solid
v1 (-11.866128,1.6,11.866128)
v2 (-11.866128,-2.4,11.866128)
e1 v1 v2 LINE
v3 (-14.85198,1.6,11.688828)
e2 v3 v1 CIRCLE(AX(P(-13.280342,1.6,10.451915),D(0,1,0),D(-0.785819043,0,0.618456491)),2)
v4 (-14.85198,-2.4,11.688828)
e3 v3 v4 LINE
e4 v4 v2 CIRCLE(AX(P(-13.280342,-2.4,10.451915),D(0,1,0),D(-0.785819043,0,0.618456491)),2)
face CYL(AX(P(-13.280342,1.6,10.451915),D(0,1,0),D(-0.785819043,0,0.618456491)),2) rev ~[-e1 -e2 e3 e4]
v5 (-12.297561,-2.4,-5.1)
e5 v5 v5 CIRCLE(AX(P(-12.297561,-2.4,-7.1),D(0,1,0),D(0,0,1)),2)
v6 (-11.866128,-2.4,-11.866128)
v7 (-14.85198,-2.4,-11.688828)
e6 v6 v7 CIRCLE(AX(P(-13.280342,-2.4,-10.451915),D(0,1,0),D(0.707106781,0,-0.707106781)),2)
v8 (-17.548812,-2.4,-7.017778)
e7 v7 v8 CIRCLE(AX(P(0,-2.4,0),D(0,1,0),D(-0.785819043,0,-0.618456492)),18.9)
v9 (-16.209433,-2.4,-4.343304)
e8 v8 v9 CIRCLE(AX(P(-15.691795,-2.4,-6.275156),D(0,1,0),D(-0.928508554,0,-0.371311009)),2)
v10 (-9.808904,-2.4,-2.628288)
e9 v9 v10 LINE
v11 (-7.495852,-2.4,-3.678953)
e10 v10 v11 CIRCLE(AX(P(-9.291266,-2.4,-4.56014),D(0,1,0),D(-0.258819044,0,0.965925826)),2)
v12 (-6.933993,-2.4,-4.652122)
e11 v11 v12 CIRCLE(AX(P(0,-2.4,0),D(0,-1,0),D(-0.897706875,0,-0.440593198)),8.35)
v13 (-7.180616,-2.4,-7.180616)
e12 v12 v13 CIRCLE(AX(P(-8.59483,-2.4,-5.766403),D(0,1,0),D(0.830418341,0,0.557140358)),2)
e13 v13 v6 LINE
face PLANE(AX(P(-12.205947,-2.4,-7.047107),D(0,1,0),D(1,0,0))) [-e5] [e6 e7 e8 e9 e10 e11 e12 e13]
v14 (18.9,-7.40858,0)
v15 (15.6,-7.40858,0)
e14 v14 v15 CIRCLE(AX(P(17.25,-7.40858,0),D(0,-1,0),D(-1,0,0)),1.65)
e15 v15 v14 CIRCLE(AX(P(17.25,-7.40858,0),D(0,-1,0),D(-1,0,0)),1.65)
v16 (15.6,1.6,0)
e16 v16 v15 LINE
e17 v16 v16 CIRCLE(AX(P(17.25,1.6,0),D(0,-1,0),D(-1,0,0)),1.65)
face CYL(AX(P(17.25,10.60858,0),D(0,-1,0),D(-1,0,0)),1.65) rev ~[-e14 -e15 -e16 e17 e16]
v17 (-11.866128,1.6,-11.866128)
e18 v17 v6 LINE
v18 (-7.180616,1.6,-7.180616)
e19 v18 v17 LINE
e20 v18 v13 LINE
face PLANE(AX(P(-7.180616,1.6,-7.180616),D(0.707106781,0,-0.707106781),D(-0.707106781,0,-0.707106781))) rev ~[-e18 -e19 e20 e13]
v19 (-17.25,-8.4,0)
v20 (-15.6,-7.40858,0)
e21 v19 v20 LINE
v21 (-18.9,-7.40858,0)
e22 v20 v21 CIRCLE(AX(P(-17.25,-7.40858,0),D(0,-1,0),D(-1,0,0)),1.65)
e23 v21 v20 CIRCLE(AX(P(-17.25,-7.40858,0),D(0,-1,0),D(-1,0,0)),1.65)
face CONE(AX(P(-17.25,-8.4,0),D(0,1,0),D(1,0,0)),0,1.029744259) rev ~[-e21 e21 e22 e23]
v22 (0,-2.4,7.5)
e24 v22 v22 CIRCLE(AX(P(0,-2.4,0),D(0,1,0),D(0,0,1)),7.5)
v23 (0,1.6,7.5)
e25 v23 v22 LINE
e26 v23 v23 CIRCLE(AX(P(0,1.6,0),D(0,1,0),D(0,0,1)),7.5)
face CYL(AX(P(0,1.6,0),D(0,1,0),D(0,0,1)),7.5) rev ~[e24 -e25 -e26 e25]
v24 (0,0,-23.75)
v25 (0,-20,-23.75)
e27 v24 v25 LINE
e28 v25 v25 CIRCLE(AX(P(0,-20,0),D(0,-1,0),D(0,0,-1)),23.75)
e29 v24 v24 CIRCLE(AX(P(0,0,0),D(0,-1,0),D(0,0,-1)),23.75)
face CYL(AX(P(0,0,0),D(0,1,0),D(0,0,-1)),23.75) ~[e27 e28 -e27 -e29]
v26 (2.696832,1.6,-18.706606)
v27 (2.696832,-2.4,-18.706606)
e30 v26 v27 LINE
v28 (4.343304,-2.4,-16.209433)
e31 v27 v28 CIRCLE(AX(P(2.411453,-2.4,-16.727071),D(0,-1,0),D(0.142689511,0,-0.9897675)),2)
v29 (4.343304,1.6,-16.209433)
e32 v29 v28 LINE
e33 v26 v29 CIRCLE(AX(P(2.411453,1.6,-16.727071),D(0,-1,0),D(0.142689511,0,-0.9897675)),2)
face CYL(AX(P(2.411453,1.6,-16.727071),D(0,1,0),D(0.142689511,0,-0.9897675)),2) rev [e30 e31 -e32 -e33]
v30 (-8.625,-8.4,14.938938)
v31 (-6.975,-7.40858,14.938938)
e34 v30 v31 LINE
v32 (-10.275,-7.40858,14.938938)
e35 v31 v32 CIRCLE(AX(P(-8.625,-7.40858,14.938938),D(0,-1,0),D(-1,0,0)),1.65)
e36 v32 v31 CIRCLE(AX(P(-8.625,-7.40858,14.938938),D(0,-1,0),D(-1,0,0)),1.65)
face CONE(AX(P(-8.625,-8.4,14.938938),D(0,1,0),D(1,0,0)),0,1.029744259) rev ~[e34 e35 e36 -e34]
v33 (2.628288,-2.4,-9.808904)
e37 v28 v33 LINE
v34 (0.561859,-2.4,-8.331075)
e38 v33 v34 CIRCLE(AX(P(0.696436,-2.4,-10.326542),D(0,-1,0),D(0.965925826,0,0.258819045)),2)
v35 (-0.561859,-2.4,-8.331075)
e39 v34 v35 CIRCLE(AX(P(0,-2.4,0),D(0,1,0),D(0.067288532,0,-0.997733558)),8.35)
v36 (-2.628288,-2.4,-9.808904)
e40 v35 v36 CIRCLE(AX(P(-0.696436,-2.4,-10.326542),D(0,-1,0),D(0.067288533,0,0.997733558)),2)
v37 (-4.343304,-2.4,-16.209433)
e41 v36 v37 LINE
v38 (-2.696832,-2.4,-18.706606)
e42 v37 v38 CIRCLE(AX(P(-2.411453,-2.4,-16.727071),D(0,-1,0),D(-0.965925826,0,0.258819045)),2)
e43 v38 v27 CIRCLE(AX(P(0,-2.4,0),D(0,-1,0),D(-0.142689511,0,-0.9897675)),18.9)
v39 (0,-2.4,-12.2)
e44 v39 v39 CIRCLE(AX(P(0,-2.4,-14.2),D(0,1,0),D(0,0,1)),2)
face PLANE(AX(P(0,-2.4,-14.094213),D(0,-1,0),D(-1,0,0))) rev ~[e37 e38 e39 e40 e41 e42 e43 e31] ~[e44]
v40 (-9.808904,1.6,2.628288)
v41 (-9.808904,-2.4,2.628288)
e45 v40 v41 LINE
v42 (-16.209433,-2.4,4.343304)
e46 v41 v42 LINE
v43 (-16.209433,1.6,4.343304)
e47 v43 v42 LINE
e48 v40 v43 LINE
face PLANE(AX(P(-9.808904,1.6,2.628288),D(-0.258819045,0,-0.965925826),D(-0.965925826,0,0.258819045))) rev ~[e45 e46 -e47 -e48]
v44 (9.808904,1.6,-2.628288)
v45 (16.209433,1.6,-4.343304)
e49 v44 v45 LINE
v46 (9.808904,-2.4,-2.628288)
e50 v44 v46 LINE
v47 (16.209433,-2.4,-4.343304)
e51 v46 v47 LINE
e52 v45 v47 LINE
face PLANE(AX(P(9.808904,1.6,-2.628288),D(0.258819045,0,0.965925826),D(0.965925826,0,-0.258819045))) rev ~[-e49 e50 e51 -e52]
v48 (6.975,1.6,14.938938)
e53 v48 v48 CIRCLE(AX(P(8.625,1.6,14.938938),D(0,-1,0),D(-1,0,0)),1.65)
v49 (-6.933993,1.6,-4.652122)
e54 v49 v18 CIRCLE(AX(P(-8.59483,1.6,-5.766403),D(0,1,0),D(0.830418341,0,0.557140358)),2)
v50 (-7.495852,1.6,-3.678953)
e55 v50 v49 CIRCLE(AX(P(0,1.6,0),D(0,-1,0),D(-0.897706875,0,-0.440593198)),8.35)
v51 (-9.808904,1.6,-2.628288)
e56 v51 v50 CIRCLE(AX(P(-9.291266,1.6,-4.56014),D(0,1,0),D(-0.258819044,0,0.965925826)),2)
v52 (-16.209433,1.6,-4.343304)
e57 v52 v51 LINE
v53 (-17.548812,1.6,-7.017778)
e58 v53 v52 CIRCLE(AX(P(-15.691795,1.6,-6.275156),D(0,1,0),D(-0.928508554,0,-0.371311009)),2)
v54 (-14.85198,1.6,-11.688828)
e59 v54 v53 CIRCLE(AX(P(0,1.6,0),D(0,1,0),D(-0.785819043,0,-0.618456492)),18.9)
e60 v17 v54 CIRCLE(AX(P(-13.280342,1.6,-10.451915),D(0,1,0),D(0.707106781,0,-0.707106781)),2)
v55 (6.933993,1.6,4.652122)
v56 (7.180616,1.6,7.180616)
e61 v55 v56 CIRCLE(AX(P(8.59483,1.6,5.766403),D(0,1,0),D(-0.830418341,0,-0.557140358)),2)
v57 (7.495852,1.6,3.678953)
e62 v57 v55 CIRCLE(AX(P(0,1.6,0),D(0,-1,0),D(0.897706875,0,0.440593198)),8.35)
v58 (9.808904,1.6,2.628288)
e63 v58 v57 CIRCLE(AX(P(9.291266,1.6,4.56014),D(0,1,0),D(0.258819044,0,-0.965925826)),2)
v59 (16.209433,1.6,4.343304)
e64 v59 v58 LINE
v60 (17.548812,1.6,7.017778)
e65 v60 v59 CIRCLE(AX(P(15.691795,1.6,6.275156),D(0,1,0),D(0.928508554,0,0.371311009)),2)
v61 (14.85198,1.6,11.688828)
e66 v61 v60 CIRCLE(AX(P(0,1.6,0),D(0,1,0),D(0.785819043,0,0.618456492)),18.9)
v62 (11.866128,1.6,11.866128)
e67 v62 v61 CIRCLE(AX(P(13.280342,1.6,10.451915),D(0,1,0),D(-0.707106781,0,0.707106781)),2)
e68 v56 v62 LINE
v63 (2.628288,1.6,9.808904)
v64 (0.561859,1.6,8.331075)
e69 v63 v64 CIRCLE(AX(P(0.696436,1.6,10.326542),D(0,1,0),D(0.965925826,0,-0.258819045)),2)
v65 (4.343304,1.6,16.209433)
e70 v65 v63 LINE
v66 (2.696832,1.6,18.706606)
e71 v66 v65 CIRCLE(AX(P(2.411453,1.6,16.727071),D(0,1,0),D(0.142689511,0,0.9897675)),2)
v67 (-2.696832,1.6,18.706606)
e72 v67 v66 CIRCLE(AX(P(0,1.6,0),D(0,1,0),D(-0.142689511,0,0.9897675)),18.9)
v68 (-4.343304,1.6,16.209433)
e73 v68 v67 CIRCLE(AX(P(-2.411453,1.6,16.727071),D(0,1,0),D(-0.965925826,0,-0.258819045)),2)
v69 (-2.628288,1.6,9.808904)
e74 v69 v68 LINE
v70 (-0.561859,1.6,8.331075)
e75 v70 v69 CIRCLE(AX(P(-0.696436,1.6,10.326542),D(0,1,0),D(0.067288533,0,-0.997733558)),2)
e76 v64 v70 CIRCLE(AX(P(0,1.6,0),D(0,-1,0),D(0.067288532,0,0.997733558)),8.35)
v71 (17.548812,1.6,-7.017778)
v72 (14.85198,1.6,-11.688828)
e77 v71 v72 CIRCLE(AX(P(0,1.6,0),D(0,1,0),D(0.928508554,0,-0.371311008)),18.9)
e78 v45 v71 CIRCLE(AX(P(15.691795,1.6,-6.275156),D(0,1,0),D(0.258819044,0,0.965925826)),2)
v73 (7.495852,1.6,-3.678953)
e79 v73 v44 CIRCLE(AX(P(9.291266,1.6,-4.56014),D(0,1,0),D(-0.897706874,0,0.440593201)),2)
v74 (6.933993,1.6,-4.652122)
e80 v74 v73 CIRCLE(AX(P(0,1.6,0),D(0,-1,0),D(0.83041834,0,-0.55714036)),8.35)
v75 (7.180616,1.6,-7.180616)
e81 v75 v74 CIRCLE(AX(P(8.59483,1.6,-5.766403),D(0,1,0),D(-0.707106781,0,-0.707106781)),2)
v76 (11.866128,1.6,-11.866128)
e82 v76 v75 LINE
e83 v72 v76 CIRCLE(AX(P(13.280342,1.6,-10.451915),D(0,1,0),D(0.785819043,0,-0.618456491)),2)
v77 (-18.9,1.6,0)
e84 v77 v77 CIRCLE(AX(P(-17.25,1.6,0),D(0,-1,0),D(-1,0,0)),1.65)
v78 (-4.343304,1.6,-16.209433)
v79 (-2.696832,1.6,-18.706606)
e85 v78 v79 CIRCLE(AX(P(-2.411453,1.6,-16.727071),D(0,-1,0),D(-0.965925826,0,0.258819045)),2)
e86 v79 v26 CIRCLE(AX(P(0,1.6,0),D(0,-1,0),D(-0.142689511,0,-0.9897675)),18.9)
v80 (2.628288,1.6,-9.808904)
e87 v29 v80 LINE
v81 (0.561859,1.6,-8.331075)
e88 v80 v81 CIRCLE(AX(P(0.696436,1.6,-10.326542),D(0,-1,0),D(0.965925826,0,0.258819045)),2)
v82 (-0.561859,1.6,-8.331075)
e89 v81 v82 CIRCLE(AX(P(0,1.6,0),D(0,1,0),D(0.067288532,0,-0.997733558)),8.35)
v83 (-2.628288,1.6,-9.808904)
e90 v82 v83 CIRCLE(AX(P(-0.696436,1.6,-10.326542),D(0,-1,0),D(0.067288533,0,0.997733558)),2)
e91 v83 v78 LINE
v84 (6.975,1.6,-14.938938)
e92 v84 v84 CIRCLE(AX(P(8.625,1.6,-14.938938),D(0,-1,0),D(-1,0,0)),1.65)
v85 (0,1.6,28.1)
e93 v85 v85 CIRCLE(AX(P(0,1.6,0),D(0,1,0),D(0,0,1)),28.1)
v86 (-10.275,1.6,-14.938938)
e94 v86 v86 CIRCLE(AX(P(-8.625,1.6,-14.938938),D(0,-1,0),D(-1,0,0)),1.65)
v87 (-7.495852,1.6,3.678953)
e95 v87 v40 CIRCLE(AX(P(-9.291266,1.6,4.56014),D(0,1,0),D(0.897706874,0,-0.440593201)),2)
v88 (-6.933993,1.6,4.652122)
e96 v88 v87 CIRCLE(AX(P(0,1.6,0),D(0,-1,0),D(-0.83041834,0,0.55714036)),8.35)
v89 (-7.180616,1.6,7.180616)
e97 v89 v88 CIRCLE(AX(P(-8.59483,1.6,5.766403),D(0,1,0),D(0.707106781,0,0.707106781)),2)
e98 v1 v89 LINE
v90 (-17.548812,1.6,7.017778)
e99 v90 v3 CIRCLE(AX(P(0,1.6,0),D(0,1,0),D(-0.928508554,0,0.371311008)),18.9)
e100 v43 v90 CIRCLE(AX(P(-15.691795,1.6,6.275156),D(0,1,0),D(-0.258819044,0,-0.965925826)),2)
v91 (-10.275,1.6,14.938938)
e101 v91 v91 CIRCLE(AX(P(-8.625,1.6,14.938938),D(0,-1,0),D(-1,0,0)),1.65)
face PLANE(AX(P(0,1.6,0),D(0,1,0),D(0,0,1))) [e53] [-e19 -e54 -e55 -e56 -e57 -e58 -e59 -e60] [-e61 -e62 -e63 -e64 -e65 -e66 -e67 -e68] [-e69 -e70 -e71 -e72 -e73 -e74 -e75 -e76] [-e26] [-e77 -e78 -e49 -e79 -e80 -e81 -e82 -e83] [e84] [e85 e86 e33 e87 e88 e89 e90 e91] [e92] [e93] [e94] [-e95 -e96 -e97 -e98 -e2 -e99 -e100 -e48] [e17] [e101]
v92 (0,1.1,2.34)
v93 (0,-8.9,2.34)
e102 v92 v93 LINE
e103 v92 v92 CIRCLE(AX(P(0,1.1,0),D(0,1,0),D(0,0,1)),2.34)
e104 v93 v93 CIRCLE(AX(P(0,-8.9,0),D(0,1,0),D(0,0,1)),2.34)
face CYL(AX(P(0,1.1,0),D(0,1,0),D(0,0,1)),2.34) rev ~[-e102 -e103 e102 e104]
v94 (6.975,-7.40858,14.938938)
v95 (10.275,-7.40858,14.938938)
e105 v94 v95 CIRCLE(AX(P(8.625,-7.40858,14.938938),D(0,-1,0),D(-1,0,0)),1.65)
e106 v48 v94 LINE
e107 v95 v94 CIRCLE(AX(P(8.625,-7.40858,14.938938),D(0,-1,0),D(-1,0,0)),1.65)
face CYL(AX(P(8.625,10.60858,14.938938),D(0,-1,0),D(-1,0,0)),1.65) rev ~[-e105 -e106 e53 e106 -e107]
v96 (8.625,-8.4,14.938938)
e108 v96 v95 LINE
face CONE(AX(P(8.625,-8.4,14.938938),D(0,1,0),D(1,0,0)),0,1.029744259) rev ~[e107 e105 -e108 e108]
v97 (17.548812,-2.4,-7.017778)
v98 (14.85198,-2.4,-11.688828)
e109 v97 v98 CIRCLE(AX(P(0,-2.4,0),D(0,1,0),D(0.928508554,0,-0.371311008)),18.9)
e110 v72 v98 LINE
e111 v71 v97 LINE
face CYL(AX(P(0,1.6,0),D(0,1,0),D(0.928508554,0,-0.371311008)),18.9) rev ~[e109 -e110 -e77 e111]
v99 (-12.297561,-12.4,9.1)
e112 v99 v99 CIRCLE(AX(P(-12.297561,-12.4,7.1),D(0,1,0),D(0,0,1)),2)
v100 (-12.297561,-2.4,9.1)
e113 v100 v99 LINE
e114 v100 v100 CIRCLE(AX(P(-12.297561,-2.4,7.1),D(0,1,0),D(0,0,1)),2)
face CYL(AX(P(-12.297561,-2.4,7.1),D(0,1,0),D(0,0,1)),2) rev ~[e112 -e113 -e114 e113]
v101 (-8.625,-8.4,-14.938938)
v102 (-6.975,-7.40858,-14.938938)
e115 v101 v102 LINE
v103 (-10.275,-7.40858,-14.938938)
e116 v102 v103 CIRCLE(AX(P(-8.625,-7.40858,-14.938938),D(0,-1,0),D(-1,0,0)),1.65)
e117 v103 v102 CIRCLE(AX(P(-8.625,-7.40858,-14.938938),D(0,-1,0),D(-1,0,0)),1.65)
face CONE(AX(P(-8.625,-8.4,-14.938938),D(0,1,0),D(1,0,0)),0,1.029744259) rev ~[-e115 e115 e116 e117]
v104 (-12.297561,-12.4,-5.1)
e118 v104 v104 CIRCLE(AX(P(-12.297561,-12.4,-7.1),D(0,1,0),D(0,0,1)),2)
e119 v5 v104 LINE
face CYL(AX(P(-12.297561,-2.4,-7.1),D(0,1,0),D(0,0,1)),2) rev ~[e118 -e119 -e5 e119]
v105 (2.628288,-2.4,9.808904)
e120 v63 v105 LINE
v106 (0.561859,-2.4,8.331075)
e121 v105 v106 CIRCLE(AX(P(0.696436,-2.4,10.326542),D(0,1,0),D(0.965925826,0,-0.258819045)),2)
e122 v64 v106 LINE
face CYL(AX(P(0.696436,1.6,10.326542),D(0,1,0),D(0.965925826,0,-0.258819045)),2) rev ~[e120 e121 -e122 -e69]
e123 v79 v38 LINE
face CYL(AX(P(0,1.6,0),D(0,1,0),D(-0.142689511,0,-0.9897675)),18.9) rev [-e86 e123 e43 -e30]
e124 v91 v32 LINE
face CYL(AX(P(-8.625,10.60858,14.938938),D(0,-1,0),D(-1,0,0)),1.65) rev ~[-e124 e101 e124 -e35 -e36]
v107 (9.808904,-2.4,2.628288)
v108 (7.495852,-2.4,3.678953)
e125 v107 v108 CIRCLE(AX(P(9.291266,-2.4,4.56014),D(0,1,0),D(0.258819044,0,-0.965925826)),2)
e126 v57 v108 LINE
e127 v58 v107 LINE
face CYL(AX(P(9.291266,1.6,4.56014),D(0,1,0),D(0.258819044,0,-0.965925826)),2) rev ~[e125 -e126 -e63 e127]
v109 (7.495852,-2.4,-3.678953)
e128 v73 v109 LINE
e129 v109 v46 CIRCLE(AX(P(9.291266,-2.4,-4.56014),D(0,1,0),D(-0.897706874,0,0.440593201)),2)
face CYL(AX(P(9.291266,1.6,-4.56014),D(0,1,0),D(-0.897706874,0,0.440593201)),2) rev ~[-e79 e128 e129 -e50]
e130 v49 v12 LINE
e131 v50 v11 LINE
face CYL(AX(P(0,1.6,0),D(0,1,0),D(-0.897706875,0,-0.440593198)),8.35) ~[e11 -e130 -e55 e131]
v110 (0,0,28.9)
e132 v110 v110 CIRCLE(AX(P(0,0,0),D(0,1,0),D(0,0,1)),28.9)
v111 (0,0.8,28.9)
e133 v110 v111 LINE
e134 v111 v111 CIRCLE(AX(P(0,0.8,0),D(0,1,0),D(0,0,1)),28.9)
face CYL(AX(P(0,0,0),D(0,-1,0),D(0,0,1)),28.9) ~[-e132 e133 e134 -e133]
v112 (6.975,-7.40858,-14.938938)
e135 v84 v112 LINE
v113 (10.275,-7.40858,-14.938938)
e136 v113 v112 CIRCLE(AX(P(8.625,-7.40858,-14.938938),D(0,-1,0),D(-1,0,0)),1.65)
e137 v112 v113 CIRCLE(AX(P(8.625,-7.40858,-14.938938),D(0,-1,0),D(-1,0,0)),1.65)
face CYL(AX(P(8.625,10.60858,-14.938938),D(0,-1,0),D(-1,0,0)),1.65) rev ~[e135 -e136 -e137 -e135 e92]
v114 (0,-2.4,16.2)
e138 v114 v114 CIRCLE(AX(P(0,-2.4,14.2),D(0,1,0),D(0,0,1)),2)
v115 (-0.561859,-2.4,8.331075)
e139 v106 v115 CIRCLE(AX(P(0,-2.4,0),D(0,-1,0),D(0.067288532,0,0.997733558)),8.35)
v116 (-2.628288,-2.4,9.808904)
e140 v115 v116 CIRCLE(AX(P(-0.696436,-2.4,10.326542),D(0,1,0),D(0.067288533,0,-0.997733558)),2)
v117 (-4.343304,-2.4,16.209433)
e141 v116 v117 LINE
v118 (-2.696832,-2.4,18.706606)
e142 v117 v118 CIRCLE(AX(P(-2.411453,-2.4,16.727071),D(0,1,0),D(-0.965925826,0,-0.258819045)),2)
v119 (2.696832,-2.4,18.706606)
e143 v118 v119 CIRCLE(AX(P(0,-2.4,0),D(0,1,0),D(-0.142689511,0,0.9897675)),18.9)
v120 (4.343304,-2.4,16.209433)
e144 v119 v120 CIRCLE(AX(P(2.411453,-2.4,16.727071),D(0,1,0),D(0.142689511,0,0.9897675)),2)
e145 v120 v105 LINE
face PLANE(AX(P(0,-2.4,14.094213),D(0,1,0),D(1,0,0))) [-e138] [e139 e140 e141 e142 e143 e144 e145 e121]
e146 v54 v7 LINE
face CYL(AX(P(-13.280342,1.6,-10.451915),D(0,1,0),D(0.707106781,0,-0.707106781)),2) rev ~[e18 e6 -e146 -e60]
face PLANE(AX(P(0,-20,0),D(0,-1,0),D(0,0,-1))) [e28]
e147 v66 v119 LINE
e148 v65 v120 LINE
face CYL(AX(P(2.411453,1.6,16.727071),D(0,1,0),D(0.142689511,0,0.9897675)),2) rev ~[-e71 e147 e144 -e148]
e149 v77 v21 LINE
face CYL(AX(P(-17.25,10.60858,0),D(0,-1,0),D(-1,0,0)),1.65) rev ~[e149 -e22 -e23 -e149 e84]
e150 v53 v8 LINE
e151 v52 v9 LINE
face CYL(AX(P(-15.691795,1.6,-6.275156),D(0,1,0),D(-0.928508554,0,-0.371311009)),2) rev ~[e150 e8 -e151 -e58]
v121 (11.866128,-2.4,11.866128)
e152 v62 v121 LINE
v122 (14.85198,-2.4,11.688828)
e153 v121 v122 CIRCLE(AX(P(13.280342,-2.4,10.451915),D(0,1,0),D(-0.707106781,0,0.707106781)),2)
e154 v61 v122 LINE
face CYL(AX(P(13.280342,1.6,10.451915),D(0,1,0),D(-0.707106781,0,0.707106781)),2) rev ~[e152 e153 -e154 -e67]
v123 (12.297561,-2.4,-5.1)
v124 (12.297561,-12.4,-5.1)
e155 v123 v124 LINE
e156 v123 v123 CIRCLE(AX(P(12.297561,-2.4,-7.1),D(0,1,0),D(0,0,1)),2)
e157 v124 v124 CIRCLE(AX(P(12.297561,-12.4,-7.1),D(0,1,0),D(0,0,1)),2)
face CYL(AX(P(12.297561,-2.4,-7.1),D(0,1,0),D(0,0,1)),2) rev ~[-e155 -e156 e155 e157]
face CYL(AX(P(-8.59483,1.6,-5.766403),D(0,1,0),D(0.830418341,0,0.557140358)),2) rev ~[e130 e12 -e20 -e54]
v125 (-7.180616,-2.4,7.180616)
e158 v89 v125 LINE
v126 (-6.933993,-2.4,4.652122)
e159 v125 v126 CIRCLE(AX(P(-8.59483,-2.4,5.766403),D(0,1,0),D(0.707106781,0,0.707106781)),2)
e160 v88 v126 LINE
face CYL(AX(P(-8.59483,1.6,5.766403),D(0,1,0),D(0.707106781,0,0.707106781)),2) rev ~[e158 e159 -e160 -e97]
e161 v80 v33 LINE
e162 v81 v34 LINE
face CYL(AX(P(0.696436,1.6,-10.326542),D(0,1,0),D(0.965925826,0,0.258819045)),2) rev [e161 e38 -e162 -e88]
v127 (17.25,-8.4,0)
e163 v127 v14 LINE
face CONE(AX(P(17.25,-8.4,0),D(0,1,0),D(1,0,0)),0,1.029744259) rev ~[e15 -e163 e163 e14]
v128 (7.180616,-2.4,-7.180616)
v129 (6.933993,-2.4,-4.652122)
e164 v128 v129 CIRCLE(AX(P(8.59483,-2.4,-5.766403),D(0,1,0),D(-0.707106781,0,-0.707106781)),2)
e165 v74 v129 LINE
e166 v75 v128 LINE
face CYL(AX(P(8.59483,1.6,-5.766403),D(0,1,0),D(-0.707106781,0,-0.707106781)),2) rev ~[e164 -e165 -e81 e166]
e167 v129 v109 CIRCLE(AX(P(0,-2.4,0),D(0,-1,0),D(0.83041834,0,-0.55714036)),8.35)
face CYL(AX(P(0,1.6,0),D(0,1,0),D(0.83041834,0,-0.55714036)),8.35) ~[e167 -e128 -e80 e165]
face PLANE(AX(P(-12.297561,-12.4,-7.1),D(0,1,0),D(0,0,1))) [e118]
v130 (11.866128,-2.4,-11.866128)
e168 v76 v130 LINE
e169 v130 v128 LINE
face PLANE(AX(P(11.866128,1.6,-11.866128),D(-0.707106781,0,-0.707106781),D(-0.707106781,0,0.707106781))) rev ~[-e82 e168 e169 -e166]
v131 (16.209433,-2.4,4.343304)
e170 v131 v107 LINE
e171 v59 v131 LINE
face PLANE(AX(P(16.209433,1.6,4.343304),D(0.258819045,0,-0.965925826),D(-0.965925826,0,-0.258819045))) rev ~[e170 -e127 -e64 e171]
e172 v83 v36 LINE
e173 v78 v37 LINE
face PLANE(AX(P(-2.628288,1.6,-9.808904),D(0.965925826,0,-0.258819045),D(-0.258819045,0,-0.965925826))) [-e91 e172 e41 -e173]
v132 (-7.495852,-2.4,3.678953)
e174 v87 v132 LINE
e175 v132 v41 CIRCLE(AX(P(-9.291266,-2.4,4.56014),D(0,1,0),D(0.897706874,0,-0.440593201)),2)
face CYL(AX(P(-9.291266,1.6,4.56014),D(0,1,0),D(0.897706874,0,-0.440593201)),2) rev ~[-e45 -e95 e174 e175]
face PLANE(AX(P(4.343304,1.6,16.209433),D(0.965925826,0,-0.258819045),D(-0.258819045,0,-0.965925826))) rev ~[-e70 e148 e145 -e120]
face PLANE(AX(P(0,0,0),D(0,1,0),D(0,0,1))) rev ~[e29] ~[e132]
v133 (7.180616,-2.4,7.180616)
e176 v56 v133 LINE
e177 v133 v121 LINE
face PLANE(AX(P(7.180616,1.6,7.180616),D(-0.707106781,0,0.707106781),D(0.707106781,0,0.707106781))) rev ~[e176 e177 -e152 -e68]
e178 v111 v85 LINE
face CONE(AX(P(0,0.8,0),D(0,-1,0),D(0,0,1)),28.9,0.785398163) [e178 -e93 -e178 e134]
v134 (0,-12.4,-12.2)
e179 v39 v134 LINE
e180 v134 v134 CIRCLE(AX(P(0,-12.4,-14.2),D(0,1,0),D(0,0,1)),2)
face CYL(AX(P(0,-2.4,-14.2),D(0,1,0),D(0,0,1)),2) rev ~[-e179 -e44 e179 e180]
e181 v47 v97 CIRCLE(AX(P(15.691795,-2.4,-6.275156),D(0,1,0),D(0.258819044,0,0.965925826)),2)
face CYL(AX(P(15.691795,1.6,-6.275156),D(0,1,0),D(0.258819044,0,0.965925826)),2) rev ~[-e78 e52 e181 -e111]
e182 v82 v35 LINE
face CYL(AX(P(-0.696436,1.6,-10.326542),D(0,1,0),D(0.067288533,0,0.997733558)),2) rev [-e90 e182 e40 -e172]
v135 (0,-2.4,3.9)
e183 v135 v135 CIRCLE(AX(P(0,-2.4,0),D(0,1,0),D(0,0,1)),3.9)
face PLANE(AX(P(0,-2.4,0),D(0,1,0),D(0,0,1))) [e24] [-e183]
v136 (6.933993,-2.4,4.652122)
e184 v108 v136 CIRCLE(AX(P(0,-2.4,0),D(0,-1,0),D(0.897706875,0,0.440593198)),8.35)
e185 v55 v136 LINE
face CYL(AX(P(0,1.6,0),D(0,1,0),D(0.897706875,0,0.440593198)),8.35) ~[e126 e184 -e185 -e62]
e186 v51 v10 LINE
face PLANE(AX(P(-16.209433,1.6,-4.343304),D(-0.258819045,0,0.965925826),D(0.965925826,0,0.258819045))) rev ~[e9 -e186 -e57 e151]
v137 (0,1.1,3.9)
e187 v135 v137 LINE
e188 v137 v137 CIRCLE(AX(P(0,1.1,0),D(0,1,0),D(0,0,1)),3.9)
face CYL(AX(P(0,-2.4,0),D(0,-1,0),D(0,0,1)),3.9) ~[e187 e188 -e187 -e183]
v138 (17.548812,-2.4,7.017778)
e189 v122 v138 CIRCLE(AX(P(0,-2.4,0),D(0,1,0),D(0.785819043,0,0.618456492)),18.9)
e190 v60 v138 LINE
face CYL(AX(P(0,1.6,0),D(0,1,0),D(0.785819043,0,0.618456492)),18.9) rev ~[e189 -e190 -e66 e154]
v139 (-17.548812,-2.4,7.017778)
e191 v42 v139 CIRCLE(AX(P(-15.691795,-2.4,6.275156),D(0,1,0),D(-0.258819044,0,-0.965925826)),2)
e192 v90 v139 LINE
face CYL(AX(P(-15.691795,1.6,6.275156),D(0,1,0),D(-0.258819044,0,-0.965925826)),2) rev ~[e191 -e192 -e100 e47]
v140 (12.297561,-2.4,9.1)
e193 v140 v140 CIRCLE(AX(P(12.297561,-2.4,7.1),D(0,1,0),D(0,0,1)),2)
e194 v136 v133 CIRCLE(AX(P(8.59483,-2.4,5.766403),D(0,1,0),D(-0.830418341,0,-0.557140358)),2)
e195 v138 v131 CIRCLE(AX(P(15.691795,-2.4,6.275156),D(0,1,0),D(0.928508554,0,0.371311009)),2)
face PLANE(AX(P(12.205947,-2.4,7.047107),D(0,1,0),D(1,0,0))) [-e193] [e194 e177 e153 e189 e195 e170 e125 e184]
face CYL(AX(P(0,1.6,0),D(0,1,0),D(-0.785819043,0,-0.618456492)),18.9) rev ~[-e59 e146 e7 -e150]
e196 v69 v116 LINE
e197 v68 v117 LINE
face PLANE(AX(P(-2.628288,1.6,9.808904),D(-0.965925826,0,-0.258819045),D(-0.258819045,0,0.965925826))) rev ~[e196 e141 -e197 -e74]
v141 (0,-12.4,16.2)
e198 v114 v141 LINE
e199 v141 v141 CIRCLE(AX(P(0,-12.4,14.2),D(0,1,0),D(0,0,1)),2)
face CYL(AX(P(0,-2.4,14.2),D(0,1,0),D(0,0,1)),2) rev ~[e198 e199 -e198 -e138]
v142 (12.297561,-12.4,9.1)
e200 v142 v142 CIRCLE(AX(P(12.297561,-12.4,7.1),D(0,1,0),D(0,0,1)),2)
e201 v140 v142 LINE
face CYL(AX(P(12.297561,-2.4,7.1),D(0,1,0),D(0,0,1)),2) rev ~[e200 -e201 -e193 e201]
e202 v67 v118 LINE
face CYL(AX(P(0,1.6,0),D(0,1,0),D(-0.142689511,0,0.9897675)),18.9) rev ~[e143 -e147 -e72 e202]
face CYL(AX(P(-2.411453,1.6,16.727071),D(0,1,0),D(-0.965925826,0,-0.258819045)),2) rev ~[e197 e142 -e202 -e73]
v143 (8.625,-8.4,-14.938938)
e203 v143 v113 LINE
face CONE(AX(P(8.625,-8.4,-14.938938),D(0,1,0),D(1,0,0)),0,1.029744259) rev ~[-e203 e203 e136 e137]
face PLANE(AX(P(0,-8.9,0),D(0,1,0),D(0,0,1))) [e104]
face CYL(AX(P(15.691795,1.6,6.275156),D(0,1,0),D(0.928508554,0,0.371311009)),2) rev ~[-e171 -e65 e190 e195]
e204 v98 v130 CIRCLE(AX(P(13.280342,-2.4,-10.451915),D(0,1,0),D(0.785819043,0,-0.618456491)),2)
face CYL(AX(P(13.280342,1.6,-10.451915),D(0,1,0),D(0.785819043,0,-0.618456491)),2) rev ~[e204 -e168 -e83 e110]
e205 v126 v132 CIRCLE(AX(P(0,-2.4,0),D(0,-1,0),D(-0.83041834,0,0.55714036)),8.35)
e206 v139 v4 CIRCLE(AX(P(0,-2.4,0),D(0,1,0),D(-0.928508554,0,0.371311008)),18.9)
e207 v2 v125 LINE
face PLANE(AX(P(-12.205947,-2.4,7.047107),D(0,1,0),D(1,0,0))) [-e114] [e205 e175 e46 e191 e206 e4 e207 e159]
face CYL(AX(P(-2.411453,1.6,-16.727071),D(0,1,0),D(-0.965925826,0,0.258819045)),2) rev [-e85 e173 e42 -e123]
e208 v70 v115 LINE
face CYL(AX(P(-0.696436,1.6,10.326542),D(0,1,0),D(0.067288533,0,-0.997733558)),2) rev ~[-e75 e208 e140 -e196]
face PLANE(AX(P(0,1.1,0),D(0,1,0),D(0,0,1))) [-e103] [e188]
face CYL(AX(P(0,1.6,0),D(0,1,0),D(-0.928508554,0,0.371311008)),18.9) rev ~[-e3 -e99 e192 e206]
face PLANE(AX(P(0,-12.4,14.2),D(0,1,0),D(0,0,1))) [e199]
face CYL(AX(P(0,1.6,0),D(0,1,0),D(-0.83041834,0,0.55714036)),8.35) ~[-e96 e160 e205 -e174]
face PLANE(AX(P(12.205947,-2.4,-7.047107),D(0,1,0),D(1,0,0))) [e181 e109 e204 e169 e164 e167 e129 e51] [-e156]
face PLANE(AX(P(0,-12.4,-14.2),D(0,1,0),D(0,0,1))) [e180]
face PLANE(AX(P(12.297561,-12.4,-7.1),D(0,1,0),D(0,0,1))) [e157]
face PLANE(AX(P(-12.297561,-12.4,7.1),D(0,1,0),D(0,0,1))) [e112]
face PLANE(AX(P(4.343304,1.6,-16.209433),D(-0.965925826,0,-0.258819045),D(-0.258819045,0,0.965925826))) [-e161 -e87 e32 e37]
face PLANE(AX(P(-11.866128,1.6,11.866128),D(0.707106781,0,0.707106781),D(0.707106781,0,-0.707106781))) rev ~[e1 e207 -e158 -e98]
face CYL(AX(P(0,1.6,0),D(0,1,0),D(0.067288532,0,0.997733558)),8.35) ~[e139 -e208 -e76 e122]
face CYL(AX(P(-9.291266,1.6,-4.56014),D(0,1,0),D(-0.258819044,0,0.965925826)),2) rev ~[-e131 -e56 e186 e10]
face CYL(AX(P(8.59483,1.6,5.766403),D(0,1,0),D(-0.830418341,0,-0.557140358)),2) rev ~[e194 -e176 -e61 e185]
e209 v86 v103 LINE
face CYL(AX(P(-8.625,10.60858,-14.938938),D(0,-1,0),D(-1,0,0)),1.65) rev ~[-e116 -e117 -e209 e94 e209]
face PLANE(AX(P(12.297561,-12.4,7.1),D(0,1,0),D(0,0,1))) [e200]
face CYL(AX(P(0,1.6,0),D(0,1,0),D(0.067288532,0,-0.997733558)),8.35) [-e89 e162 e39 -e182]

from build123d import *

# Parameters (mm, degrees)
SKETCH_1_R             = 28.9
EXTRUDE_1_DEPTH        = 1.6
CHAMFER_1_SIZE         = 0.8
SKETCH_2_R             = 23.75
EXTRUDE_2_DEPTH        = 20
HOLE_WIZARD_M4_1_D     = 3.3
HOLE_WIZARD_M4_1_DEPTH = 9.008579979
HOLE_WIZARD_M4_1_TIP   = 0.991420021
SKETCH_3_R             = 7.5
CUT_EXTRUDE_1_DEPTH    = 4
SKETCH_7_R             = 3.9
EXTRUDE_3_DEPTH        = 3.5
SKETCH_8_R             = 2.34
CUT_EXTRUDE_2_DEPTH    = 10
SKETCH_9_R             = 2
CUT_EXTRUDE_3_DEPTH    = 10


with BuildPart() as part:
    # 草图1 → 凸台-拉伸1 (new body)
    with BuildSketch(Plane(origin=(0, 0, 0), x_dir=(1, 0, 0), z_dir=(0, 1, 0))):
        with Locations(Location((0, 0, 0), (0, 0, 270))):
            Circle(SKETCH_1_R)
    extrude(amount=EXTRUDE_1_DEPTH)

    # 倒角1
    chamfer_1_edges = [part.edges().sort_by_distance(p)[0] for p in [
        (0, 1.6, -28.9),
    ]]
    chamfer(chamfer_1_edges, length=CHAMFER_1_SIZE)

    # 草图2 → 凸台-拉伸2 (add)
    with BuildSketch(Plane.XZ):
        with Locations(Location((0, 0, 0), (0, 0, 270))):
            Circle(SKETCH_2_R)
    extrude(amount=EXTRUDE_2_DEPTH)

    # M4 螺纹孔的螺纹孔钻头1
    with Locations(Plane(origin=(0, 1.6, 0), x_dir=(1, 0, 0), z_dir=(0, 1, 0))):
        with Locations((-17.25, 0), (-8.625, 14.938938215), (8.625, 14.938938215), (17.25, 0), (8.625, -14.938938215), (-8.625, -14.938938215)):
            Hole(HOLE_WIZARD_M4_1_D / 2, depth=HOLE_WIZARD_M4_1_DEPTH)
            with Locations((0, 0, -(HOLE_WIZARD_M4_1_DEPTH + HOLE_WIZARD_M4_1_TIP / 2))):  # 118° drill point
                Cone(0, HOLE_WIZARD_M4_1_D / 2, HOLE_WIZARD_M4_1_TIP, mode=Mode.SUBTRACT)

    # 草图3 → 切除-拉伸1 (cut)
    with BuildSketch(Plane(origin=(0, 1.6, 0), x_dir=(1, 0, 0), z_dir=(0, 1, 0))):
        with Locations(Location((0, 0, 0), (0, 0, 270))):
            Circle(SKETCH_3_R)
        with BuildLine():
            Line((-2.628287969, 9.808904238), (-4.34330439, 16.209432654))
            ThreePointArc((-4.34330439, 16.209432654), (-4.081182154, 17.827981129), (-2.696831759, 18.706605744))
            ThreePointArc((-2.696831759, 18.706605744), (0, 18.9), (2.696831759, 18.706605744))
            ThreePointArc((2.696831759, 18.706605744), (4.081182154, 17.827981129), (4.34330439, 16.209432654))
            Line((4.34330439, 16.209432654), (2.628287969, 9.808904238))
            ThreePointArc((2.628287969, 9.808904238), (1.859855262, 8.699749054), (0.561859251, 8.331075212))
            ThreePointArc((0.561859251, 8.331075212), (0, 8.35), (-0.561859251, 8.331075212))
            ThreePointArc((-0.561859251, 8.331075212), (-1.859855262, 8.699749054), (-2.628287969, 9.808904238))
        make_face()
        with BuildLine():
            Line((9.808904238, 2.628287969), (16.209432654, 4.34330439))
            ThreePointArc((16.209432654, 4.34330439), (17.480075633, 5.379583142), (17.548811672, 7.017778059))
            ThreePointArc((17.548811672, 7.017778059), (16.367880132, 9.45), (14.851979913, 11.688827685))
            ThreePointArc((14.851979913, 11.688827685), (13.398893479, 12.448397987), (11.866128265, 11.866128265))
            Line((11.866128265, 11.866128265), (7.180616269, 7.180616269))
            ThreePointArc((7.180616269, 7.180616269), (6.604276056, 5.960556431), (6.933993149, 4.65212199))
            ThreePointArc((6.933993149, 4.65212199), (7.231312122, 4.175), (7.495852399, 3.678953221))
            ThreePointArc((7.495852399, 3.678953221), (8.464131318, 2.739192623), (9.808904238, 2.628287969))
        make_face()
        with BuildLine():
            Line((7.180616269, -7.180616269), (11.866128265, -11.866128265))
            ThreePointArc((11.866128265, -11.866128265), (13.398893479, -12.448397987), (14.851979913, -11.688827685))
            ThreePointArc((14.851979913, -11.688827685), (16.367880132, -9.45), (17.548811672, -7.017778059))
            ThreePointArc((17.548811672, -7.017778059), (17.480075633, -5.379583142), (16.209432654, -4.34330439))
            Line((16.209432654, -4.34330439), (9.808904238, -2.628287969))
            ThreePointArc((9.808904238, -2.628287969), (8.464131318, -2.739192623), (7.495852399, -3.678953221))
            ThreePointArc((7.495852399, -3.678953221), (7.231312122, -4.175), (6.933993149, -4.65212199))
            ThreePointArc((6.933993149, -4.65212199), (6.604276056, -5.960556431), (7.180616269, -7.180616269))
        make_face()
        with BuildLine():
            Line((-2.628287969, -9.808904238), (-4.34330439, -16.209432654))
            ThreePointArc((-4.34330439, -16.209432654), (-4.081182154, -17.827981129), (-2.696831759, -18.706605744))
            ThreePointArc((-2.696831759, -18.706605744), (0, -18.9), (2.696831759, -18.706605744))
            ThreePointArc((2.696831759, -18.706605744), (4.081182154, -17.827981129), (4.34330439, -16.209432654))
            Line((4.34330439, -16.209432654), (2.628287969, -9.808904238))
            ThreePointArc((2.628287969, -9.808904238), (1.859855262, -8.699749054), (0.561859251, -8.331075212))
            ThreePointArc((0.561859251, -8.331075212), (0, -8.35), (-0.561859251, -8.331075212))
            ThreePointArc((-0.561859251, -8.331075212), (-1.859855262, -8.699749054), (-2.628287969, -9.808904238))
        make_face()
        with BuildLine():
            Line((-9.808904238, -2.628287969), (-16.209432654, -4.34330439))
            ThreePointArc((-16.209432654, -4.34330439), (-17.480075633, -5.379583142), (-17.548811672, -7.017778059))
            ThreePointArc((-17.548811672, -7.017778059), (-16.367880132, -9.45), (-14.851979913, -11.688827685))
            ThreePointArc((-14.851979913, -11.688827685), (-13.398893479, -12.448397987), (-11.866128265, -11.866128265))
            Line((-11.866128265, -11.866128265), (-7.180616269, -7.180616269))
            ThreePointArc((-7.180616269, -7.180616269), (-6.604276056, -5.960556431), (-6.933993149, -4.65212199))
            ThreePointArc((-6.933993149, -4.65212199), (-7.231312122, -4.175), (-7.495852399, -3.678953221))
            ThreePointArc((-7.495852399, -3.678953221), (-8.464131318, -2.739192623), (-9.808904238, -2.628287969))
        make_face()
        with BuildLine():
            Line((-7.180616269, 7.180616269), (-11.866128265, 11.866128265))
            ThreePointArc((-11.866128265, 11.866128265), (-13.398893479, 12.448397987), (-14.851979913, 11.688827685))
            ThreePointArc((-14.851979913, 11.688827685), (-16.367880132, 9.45), (-17.548811672, 7.017778059))
            ThreePointArc((-17.548811672, 7.017778059), (-17.480075633, 5.379583142), (-16.209432654, 4.34330439))
            Line((-16.209432654, 4.34330439), (-9.808904238, 2.628287969))
            ThreePointArc((-9.808904238, 2.628287969), (-8.464131318, 2.739192623), (-7.495852399, 3.678953221))
            ThreePointArc((-7.495852399, 3.678953221), (-7.231312122, 4.175), (-6.933993149, 4.65212199))
            ThreePointArc((-6.933993149, 4.65212199), (-6.604276056, 5.960556431), (-7.180616269, 7.180616269))
        make_face()
    extrude(amount=-CUT_EXTRUDE_1_DEPTH, mode=Mode.SUBTRACT)

    # 草图7 → 凸台-拉伸3 (add)
    with BuildSketch(Plane(origin=(0, -2.4, 0), x_dir=(1, 0, 0), z_dir=(0, 1, 0))):
        with Locations(Location((0, 0, 0), (0, 0, 270))):
            Circle(SKETCH_7_R)
    extrude(amount=EXTRUDE_3_DEPTH)

    # 草图8 → 切除-拉伸2 (cut)
    with BuildSketch(Plane(origin=(0, 1.1, 0), x_dir=(1, 0, 0), z_dir=(0, 1, 0))):
        with Locations(Location((0, 0, 0), (0, 0, 270))):
            Circle(SKETCH_8_R)
    extrude(amount=-CUT_EXTRUDE_2_DEPTH, mode=Mode.SUBTRACT)

    # 草图9 → 切除-拉伸3 (cut)
    with BuildSketch(Plane(origin=(0, -2.4, 0), x_dir=(1, 0, 0), z_dir=(0, 1, 0))):
        with Locations(Location((-12.297560734, 7.1, 0), (0, 0, 270))):
            Circle(SKETCH_9_R)
        with Locations(Location((0, 14.2, 0), (0, 0, 270))):
            Circle(SKETCH_9_R)
        with Locations(Location((12.297560734, 7.1, 0), (0, 0, 270))):
            Circle(SKETCH_9_R)
        with Locations(Location((12.297560734, -7.1, 0), (0, 0, 270))):
            Circle(SKETCH_9_R)
        with Locations(Location((0, -14.2, 0), (0, 0, 270))):
            Circle(SKETCH_9_R)
        with Locations(Location((-12.297560734, -7.1, 0), (0, 0, 270))):
            Circle(SKETCH_9_R)
    extrude(amount=-CUT_EXTRUDE_3_DEPTH, mode=Mode.SUBTRACT)


solid = part.part
